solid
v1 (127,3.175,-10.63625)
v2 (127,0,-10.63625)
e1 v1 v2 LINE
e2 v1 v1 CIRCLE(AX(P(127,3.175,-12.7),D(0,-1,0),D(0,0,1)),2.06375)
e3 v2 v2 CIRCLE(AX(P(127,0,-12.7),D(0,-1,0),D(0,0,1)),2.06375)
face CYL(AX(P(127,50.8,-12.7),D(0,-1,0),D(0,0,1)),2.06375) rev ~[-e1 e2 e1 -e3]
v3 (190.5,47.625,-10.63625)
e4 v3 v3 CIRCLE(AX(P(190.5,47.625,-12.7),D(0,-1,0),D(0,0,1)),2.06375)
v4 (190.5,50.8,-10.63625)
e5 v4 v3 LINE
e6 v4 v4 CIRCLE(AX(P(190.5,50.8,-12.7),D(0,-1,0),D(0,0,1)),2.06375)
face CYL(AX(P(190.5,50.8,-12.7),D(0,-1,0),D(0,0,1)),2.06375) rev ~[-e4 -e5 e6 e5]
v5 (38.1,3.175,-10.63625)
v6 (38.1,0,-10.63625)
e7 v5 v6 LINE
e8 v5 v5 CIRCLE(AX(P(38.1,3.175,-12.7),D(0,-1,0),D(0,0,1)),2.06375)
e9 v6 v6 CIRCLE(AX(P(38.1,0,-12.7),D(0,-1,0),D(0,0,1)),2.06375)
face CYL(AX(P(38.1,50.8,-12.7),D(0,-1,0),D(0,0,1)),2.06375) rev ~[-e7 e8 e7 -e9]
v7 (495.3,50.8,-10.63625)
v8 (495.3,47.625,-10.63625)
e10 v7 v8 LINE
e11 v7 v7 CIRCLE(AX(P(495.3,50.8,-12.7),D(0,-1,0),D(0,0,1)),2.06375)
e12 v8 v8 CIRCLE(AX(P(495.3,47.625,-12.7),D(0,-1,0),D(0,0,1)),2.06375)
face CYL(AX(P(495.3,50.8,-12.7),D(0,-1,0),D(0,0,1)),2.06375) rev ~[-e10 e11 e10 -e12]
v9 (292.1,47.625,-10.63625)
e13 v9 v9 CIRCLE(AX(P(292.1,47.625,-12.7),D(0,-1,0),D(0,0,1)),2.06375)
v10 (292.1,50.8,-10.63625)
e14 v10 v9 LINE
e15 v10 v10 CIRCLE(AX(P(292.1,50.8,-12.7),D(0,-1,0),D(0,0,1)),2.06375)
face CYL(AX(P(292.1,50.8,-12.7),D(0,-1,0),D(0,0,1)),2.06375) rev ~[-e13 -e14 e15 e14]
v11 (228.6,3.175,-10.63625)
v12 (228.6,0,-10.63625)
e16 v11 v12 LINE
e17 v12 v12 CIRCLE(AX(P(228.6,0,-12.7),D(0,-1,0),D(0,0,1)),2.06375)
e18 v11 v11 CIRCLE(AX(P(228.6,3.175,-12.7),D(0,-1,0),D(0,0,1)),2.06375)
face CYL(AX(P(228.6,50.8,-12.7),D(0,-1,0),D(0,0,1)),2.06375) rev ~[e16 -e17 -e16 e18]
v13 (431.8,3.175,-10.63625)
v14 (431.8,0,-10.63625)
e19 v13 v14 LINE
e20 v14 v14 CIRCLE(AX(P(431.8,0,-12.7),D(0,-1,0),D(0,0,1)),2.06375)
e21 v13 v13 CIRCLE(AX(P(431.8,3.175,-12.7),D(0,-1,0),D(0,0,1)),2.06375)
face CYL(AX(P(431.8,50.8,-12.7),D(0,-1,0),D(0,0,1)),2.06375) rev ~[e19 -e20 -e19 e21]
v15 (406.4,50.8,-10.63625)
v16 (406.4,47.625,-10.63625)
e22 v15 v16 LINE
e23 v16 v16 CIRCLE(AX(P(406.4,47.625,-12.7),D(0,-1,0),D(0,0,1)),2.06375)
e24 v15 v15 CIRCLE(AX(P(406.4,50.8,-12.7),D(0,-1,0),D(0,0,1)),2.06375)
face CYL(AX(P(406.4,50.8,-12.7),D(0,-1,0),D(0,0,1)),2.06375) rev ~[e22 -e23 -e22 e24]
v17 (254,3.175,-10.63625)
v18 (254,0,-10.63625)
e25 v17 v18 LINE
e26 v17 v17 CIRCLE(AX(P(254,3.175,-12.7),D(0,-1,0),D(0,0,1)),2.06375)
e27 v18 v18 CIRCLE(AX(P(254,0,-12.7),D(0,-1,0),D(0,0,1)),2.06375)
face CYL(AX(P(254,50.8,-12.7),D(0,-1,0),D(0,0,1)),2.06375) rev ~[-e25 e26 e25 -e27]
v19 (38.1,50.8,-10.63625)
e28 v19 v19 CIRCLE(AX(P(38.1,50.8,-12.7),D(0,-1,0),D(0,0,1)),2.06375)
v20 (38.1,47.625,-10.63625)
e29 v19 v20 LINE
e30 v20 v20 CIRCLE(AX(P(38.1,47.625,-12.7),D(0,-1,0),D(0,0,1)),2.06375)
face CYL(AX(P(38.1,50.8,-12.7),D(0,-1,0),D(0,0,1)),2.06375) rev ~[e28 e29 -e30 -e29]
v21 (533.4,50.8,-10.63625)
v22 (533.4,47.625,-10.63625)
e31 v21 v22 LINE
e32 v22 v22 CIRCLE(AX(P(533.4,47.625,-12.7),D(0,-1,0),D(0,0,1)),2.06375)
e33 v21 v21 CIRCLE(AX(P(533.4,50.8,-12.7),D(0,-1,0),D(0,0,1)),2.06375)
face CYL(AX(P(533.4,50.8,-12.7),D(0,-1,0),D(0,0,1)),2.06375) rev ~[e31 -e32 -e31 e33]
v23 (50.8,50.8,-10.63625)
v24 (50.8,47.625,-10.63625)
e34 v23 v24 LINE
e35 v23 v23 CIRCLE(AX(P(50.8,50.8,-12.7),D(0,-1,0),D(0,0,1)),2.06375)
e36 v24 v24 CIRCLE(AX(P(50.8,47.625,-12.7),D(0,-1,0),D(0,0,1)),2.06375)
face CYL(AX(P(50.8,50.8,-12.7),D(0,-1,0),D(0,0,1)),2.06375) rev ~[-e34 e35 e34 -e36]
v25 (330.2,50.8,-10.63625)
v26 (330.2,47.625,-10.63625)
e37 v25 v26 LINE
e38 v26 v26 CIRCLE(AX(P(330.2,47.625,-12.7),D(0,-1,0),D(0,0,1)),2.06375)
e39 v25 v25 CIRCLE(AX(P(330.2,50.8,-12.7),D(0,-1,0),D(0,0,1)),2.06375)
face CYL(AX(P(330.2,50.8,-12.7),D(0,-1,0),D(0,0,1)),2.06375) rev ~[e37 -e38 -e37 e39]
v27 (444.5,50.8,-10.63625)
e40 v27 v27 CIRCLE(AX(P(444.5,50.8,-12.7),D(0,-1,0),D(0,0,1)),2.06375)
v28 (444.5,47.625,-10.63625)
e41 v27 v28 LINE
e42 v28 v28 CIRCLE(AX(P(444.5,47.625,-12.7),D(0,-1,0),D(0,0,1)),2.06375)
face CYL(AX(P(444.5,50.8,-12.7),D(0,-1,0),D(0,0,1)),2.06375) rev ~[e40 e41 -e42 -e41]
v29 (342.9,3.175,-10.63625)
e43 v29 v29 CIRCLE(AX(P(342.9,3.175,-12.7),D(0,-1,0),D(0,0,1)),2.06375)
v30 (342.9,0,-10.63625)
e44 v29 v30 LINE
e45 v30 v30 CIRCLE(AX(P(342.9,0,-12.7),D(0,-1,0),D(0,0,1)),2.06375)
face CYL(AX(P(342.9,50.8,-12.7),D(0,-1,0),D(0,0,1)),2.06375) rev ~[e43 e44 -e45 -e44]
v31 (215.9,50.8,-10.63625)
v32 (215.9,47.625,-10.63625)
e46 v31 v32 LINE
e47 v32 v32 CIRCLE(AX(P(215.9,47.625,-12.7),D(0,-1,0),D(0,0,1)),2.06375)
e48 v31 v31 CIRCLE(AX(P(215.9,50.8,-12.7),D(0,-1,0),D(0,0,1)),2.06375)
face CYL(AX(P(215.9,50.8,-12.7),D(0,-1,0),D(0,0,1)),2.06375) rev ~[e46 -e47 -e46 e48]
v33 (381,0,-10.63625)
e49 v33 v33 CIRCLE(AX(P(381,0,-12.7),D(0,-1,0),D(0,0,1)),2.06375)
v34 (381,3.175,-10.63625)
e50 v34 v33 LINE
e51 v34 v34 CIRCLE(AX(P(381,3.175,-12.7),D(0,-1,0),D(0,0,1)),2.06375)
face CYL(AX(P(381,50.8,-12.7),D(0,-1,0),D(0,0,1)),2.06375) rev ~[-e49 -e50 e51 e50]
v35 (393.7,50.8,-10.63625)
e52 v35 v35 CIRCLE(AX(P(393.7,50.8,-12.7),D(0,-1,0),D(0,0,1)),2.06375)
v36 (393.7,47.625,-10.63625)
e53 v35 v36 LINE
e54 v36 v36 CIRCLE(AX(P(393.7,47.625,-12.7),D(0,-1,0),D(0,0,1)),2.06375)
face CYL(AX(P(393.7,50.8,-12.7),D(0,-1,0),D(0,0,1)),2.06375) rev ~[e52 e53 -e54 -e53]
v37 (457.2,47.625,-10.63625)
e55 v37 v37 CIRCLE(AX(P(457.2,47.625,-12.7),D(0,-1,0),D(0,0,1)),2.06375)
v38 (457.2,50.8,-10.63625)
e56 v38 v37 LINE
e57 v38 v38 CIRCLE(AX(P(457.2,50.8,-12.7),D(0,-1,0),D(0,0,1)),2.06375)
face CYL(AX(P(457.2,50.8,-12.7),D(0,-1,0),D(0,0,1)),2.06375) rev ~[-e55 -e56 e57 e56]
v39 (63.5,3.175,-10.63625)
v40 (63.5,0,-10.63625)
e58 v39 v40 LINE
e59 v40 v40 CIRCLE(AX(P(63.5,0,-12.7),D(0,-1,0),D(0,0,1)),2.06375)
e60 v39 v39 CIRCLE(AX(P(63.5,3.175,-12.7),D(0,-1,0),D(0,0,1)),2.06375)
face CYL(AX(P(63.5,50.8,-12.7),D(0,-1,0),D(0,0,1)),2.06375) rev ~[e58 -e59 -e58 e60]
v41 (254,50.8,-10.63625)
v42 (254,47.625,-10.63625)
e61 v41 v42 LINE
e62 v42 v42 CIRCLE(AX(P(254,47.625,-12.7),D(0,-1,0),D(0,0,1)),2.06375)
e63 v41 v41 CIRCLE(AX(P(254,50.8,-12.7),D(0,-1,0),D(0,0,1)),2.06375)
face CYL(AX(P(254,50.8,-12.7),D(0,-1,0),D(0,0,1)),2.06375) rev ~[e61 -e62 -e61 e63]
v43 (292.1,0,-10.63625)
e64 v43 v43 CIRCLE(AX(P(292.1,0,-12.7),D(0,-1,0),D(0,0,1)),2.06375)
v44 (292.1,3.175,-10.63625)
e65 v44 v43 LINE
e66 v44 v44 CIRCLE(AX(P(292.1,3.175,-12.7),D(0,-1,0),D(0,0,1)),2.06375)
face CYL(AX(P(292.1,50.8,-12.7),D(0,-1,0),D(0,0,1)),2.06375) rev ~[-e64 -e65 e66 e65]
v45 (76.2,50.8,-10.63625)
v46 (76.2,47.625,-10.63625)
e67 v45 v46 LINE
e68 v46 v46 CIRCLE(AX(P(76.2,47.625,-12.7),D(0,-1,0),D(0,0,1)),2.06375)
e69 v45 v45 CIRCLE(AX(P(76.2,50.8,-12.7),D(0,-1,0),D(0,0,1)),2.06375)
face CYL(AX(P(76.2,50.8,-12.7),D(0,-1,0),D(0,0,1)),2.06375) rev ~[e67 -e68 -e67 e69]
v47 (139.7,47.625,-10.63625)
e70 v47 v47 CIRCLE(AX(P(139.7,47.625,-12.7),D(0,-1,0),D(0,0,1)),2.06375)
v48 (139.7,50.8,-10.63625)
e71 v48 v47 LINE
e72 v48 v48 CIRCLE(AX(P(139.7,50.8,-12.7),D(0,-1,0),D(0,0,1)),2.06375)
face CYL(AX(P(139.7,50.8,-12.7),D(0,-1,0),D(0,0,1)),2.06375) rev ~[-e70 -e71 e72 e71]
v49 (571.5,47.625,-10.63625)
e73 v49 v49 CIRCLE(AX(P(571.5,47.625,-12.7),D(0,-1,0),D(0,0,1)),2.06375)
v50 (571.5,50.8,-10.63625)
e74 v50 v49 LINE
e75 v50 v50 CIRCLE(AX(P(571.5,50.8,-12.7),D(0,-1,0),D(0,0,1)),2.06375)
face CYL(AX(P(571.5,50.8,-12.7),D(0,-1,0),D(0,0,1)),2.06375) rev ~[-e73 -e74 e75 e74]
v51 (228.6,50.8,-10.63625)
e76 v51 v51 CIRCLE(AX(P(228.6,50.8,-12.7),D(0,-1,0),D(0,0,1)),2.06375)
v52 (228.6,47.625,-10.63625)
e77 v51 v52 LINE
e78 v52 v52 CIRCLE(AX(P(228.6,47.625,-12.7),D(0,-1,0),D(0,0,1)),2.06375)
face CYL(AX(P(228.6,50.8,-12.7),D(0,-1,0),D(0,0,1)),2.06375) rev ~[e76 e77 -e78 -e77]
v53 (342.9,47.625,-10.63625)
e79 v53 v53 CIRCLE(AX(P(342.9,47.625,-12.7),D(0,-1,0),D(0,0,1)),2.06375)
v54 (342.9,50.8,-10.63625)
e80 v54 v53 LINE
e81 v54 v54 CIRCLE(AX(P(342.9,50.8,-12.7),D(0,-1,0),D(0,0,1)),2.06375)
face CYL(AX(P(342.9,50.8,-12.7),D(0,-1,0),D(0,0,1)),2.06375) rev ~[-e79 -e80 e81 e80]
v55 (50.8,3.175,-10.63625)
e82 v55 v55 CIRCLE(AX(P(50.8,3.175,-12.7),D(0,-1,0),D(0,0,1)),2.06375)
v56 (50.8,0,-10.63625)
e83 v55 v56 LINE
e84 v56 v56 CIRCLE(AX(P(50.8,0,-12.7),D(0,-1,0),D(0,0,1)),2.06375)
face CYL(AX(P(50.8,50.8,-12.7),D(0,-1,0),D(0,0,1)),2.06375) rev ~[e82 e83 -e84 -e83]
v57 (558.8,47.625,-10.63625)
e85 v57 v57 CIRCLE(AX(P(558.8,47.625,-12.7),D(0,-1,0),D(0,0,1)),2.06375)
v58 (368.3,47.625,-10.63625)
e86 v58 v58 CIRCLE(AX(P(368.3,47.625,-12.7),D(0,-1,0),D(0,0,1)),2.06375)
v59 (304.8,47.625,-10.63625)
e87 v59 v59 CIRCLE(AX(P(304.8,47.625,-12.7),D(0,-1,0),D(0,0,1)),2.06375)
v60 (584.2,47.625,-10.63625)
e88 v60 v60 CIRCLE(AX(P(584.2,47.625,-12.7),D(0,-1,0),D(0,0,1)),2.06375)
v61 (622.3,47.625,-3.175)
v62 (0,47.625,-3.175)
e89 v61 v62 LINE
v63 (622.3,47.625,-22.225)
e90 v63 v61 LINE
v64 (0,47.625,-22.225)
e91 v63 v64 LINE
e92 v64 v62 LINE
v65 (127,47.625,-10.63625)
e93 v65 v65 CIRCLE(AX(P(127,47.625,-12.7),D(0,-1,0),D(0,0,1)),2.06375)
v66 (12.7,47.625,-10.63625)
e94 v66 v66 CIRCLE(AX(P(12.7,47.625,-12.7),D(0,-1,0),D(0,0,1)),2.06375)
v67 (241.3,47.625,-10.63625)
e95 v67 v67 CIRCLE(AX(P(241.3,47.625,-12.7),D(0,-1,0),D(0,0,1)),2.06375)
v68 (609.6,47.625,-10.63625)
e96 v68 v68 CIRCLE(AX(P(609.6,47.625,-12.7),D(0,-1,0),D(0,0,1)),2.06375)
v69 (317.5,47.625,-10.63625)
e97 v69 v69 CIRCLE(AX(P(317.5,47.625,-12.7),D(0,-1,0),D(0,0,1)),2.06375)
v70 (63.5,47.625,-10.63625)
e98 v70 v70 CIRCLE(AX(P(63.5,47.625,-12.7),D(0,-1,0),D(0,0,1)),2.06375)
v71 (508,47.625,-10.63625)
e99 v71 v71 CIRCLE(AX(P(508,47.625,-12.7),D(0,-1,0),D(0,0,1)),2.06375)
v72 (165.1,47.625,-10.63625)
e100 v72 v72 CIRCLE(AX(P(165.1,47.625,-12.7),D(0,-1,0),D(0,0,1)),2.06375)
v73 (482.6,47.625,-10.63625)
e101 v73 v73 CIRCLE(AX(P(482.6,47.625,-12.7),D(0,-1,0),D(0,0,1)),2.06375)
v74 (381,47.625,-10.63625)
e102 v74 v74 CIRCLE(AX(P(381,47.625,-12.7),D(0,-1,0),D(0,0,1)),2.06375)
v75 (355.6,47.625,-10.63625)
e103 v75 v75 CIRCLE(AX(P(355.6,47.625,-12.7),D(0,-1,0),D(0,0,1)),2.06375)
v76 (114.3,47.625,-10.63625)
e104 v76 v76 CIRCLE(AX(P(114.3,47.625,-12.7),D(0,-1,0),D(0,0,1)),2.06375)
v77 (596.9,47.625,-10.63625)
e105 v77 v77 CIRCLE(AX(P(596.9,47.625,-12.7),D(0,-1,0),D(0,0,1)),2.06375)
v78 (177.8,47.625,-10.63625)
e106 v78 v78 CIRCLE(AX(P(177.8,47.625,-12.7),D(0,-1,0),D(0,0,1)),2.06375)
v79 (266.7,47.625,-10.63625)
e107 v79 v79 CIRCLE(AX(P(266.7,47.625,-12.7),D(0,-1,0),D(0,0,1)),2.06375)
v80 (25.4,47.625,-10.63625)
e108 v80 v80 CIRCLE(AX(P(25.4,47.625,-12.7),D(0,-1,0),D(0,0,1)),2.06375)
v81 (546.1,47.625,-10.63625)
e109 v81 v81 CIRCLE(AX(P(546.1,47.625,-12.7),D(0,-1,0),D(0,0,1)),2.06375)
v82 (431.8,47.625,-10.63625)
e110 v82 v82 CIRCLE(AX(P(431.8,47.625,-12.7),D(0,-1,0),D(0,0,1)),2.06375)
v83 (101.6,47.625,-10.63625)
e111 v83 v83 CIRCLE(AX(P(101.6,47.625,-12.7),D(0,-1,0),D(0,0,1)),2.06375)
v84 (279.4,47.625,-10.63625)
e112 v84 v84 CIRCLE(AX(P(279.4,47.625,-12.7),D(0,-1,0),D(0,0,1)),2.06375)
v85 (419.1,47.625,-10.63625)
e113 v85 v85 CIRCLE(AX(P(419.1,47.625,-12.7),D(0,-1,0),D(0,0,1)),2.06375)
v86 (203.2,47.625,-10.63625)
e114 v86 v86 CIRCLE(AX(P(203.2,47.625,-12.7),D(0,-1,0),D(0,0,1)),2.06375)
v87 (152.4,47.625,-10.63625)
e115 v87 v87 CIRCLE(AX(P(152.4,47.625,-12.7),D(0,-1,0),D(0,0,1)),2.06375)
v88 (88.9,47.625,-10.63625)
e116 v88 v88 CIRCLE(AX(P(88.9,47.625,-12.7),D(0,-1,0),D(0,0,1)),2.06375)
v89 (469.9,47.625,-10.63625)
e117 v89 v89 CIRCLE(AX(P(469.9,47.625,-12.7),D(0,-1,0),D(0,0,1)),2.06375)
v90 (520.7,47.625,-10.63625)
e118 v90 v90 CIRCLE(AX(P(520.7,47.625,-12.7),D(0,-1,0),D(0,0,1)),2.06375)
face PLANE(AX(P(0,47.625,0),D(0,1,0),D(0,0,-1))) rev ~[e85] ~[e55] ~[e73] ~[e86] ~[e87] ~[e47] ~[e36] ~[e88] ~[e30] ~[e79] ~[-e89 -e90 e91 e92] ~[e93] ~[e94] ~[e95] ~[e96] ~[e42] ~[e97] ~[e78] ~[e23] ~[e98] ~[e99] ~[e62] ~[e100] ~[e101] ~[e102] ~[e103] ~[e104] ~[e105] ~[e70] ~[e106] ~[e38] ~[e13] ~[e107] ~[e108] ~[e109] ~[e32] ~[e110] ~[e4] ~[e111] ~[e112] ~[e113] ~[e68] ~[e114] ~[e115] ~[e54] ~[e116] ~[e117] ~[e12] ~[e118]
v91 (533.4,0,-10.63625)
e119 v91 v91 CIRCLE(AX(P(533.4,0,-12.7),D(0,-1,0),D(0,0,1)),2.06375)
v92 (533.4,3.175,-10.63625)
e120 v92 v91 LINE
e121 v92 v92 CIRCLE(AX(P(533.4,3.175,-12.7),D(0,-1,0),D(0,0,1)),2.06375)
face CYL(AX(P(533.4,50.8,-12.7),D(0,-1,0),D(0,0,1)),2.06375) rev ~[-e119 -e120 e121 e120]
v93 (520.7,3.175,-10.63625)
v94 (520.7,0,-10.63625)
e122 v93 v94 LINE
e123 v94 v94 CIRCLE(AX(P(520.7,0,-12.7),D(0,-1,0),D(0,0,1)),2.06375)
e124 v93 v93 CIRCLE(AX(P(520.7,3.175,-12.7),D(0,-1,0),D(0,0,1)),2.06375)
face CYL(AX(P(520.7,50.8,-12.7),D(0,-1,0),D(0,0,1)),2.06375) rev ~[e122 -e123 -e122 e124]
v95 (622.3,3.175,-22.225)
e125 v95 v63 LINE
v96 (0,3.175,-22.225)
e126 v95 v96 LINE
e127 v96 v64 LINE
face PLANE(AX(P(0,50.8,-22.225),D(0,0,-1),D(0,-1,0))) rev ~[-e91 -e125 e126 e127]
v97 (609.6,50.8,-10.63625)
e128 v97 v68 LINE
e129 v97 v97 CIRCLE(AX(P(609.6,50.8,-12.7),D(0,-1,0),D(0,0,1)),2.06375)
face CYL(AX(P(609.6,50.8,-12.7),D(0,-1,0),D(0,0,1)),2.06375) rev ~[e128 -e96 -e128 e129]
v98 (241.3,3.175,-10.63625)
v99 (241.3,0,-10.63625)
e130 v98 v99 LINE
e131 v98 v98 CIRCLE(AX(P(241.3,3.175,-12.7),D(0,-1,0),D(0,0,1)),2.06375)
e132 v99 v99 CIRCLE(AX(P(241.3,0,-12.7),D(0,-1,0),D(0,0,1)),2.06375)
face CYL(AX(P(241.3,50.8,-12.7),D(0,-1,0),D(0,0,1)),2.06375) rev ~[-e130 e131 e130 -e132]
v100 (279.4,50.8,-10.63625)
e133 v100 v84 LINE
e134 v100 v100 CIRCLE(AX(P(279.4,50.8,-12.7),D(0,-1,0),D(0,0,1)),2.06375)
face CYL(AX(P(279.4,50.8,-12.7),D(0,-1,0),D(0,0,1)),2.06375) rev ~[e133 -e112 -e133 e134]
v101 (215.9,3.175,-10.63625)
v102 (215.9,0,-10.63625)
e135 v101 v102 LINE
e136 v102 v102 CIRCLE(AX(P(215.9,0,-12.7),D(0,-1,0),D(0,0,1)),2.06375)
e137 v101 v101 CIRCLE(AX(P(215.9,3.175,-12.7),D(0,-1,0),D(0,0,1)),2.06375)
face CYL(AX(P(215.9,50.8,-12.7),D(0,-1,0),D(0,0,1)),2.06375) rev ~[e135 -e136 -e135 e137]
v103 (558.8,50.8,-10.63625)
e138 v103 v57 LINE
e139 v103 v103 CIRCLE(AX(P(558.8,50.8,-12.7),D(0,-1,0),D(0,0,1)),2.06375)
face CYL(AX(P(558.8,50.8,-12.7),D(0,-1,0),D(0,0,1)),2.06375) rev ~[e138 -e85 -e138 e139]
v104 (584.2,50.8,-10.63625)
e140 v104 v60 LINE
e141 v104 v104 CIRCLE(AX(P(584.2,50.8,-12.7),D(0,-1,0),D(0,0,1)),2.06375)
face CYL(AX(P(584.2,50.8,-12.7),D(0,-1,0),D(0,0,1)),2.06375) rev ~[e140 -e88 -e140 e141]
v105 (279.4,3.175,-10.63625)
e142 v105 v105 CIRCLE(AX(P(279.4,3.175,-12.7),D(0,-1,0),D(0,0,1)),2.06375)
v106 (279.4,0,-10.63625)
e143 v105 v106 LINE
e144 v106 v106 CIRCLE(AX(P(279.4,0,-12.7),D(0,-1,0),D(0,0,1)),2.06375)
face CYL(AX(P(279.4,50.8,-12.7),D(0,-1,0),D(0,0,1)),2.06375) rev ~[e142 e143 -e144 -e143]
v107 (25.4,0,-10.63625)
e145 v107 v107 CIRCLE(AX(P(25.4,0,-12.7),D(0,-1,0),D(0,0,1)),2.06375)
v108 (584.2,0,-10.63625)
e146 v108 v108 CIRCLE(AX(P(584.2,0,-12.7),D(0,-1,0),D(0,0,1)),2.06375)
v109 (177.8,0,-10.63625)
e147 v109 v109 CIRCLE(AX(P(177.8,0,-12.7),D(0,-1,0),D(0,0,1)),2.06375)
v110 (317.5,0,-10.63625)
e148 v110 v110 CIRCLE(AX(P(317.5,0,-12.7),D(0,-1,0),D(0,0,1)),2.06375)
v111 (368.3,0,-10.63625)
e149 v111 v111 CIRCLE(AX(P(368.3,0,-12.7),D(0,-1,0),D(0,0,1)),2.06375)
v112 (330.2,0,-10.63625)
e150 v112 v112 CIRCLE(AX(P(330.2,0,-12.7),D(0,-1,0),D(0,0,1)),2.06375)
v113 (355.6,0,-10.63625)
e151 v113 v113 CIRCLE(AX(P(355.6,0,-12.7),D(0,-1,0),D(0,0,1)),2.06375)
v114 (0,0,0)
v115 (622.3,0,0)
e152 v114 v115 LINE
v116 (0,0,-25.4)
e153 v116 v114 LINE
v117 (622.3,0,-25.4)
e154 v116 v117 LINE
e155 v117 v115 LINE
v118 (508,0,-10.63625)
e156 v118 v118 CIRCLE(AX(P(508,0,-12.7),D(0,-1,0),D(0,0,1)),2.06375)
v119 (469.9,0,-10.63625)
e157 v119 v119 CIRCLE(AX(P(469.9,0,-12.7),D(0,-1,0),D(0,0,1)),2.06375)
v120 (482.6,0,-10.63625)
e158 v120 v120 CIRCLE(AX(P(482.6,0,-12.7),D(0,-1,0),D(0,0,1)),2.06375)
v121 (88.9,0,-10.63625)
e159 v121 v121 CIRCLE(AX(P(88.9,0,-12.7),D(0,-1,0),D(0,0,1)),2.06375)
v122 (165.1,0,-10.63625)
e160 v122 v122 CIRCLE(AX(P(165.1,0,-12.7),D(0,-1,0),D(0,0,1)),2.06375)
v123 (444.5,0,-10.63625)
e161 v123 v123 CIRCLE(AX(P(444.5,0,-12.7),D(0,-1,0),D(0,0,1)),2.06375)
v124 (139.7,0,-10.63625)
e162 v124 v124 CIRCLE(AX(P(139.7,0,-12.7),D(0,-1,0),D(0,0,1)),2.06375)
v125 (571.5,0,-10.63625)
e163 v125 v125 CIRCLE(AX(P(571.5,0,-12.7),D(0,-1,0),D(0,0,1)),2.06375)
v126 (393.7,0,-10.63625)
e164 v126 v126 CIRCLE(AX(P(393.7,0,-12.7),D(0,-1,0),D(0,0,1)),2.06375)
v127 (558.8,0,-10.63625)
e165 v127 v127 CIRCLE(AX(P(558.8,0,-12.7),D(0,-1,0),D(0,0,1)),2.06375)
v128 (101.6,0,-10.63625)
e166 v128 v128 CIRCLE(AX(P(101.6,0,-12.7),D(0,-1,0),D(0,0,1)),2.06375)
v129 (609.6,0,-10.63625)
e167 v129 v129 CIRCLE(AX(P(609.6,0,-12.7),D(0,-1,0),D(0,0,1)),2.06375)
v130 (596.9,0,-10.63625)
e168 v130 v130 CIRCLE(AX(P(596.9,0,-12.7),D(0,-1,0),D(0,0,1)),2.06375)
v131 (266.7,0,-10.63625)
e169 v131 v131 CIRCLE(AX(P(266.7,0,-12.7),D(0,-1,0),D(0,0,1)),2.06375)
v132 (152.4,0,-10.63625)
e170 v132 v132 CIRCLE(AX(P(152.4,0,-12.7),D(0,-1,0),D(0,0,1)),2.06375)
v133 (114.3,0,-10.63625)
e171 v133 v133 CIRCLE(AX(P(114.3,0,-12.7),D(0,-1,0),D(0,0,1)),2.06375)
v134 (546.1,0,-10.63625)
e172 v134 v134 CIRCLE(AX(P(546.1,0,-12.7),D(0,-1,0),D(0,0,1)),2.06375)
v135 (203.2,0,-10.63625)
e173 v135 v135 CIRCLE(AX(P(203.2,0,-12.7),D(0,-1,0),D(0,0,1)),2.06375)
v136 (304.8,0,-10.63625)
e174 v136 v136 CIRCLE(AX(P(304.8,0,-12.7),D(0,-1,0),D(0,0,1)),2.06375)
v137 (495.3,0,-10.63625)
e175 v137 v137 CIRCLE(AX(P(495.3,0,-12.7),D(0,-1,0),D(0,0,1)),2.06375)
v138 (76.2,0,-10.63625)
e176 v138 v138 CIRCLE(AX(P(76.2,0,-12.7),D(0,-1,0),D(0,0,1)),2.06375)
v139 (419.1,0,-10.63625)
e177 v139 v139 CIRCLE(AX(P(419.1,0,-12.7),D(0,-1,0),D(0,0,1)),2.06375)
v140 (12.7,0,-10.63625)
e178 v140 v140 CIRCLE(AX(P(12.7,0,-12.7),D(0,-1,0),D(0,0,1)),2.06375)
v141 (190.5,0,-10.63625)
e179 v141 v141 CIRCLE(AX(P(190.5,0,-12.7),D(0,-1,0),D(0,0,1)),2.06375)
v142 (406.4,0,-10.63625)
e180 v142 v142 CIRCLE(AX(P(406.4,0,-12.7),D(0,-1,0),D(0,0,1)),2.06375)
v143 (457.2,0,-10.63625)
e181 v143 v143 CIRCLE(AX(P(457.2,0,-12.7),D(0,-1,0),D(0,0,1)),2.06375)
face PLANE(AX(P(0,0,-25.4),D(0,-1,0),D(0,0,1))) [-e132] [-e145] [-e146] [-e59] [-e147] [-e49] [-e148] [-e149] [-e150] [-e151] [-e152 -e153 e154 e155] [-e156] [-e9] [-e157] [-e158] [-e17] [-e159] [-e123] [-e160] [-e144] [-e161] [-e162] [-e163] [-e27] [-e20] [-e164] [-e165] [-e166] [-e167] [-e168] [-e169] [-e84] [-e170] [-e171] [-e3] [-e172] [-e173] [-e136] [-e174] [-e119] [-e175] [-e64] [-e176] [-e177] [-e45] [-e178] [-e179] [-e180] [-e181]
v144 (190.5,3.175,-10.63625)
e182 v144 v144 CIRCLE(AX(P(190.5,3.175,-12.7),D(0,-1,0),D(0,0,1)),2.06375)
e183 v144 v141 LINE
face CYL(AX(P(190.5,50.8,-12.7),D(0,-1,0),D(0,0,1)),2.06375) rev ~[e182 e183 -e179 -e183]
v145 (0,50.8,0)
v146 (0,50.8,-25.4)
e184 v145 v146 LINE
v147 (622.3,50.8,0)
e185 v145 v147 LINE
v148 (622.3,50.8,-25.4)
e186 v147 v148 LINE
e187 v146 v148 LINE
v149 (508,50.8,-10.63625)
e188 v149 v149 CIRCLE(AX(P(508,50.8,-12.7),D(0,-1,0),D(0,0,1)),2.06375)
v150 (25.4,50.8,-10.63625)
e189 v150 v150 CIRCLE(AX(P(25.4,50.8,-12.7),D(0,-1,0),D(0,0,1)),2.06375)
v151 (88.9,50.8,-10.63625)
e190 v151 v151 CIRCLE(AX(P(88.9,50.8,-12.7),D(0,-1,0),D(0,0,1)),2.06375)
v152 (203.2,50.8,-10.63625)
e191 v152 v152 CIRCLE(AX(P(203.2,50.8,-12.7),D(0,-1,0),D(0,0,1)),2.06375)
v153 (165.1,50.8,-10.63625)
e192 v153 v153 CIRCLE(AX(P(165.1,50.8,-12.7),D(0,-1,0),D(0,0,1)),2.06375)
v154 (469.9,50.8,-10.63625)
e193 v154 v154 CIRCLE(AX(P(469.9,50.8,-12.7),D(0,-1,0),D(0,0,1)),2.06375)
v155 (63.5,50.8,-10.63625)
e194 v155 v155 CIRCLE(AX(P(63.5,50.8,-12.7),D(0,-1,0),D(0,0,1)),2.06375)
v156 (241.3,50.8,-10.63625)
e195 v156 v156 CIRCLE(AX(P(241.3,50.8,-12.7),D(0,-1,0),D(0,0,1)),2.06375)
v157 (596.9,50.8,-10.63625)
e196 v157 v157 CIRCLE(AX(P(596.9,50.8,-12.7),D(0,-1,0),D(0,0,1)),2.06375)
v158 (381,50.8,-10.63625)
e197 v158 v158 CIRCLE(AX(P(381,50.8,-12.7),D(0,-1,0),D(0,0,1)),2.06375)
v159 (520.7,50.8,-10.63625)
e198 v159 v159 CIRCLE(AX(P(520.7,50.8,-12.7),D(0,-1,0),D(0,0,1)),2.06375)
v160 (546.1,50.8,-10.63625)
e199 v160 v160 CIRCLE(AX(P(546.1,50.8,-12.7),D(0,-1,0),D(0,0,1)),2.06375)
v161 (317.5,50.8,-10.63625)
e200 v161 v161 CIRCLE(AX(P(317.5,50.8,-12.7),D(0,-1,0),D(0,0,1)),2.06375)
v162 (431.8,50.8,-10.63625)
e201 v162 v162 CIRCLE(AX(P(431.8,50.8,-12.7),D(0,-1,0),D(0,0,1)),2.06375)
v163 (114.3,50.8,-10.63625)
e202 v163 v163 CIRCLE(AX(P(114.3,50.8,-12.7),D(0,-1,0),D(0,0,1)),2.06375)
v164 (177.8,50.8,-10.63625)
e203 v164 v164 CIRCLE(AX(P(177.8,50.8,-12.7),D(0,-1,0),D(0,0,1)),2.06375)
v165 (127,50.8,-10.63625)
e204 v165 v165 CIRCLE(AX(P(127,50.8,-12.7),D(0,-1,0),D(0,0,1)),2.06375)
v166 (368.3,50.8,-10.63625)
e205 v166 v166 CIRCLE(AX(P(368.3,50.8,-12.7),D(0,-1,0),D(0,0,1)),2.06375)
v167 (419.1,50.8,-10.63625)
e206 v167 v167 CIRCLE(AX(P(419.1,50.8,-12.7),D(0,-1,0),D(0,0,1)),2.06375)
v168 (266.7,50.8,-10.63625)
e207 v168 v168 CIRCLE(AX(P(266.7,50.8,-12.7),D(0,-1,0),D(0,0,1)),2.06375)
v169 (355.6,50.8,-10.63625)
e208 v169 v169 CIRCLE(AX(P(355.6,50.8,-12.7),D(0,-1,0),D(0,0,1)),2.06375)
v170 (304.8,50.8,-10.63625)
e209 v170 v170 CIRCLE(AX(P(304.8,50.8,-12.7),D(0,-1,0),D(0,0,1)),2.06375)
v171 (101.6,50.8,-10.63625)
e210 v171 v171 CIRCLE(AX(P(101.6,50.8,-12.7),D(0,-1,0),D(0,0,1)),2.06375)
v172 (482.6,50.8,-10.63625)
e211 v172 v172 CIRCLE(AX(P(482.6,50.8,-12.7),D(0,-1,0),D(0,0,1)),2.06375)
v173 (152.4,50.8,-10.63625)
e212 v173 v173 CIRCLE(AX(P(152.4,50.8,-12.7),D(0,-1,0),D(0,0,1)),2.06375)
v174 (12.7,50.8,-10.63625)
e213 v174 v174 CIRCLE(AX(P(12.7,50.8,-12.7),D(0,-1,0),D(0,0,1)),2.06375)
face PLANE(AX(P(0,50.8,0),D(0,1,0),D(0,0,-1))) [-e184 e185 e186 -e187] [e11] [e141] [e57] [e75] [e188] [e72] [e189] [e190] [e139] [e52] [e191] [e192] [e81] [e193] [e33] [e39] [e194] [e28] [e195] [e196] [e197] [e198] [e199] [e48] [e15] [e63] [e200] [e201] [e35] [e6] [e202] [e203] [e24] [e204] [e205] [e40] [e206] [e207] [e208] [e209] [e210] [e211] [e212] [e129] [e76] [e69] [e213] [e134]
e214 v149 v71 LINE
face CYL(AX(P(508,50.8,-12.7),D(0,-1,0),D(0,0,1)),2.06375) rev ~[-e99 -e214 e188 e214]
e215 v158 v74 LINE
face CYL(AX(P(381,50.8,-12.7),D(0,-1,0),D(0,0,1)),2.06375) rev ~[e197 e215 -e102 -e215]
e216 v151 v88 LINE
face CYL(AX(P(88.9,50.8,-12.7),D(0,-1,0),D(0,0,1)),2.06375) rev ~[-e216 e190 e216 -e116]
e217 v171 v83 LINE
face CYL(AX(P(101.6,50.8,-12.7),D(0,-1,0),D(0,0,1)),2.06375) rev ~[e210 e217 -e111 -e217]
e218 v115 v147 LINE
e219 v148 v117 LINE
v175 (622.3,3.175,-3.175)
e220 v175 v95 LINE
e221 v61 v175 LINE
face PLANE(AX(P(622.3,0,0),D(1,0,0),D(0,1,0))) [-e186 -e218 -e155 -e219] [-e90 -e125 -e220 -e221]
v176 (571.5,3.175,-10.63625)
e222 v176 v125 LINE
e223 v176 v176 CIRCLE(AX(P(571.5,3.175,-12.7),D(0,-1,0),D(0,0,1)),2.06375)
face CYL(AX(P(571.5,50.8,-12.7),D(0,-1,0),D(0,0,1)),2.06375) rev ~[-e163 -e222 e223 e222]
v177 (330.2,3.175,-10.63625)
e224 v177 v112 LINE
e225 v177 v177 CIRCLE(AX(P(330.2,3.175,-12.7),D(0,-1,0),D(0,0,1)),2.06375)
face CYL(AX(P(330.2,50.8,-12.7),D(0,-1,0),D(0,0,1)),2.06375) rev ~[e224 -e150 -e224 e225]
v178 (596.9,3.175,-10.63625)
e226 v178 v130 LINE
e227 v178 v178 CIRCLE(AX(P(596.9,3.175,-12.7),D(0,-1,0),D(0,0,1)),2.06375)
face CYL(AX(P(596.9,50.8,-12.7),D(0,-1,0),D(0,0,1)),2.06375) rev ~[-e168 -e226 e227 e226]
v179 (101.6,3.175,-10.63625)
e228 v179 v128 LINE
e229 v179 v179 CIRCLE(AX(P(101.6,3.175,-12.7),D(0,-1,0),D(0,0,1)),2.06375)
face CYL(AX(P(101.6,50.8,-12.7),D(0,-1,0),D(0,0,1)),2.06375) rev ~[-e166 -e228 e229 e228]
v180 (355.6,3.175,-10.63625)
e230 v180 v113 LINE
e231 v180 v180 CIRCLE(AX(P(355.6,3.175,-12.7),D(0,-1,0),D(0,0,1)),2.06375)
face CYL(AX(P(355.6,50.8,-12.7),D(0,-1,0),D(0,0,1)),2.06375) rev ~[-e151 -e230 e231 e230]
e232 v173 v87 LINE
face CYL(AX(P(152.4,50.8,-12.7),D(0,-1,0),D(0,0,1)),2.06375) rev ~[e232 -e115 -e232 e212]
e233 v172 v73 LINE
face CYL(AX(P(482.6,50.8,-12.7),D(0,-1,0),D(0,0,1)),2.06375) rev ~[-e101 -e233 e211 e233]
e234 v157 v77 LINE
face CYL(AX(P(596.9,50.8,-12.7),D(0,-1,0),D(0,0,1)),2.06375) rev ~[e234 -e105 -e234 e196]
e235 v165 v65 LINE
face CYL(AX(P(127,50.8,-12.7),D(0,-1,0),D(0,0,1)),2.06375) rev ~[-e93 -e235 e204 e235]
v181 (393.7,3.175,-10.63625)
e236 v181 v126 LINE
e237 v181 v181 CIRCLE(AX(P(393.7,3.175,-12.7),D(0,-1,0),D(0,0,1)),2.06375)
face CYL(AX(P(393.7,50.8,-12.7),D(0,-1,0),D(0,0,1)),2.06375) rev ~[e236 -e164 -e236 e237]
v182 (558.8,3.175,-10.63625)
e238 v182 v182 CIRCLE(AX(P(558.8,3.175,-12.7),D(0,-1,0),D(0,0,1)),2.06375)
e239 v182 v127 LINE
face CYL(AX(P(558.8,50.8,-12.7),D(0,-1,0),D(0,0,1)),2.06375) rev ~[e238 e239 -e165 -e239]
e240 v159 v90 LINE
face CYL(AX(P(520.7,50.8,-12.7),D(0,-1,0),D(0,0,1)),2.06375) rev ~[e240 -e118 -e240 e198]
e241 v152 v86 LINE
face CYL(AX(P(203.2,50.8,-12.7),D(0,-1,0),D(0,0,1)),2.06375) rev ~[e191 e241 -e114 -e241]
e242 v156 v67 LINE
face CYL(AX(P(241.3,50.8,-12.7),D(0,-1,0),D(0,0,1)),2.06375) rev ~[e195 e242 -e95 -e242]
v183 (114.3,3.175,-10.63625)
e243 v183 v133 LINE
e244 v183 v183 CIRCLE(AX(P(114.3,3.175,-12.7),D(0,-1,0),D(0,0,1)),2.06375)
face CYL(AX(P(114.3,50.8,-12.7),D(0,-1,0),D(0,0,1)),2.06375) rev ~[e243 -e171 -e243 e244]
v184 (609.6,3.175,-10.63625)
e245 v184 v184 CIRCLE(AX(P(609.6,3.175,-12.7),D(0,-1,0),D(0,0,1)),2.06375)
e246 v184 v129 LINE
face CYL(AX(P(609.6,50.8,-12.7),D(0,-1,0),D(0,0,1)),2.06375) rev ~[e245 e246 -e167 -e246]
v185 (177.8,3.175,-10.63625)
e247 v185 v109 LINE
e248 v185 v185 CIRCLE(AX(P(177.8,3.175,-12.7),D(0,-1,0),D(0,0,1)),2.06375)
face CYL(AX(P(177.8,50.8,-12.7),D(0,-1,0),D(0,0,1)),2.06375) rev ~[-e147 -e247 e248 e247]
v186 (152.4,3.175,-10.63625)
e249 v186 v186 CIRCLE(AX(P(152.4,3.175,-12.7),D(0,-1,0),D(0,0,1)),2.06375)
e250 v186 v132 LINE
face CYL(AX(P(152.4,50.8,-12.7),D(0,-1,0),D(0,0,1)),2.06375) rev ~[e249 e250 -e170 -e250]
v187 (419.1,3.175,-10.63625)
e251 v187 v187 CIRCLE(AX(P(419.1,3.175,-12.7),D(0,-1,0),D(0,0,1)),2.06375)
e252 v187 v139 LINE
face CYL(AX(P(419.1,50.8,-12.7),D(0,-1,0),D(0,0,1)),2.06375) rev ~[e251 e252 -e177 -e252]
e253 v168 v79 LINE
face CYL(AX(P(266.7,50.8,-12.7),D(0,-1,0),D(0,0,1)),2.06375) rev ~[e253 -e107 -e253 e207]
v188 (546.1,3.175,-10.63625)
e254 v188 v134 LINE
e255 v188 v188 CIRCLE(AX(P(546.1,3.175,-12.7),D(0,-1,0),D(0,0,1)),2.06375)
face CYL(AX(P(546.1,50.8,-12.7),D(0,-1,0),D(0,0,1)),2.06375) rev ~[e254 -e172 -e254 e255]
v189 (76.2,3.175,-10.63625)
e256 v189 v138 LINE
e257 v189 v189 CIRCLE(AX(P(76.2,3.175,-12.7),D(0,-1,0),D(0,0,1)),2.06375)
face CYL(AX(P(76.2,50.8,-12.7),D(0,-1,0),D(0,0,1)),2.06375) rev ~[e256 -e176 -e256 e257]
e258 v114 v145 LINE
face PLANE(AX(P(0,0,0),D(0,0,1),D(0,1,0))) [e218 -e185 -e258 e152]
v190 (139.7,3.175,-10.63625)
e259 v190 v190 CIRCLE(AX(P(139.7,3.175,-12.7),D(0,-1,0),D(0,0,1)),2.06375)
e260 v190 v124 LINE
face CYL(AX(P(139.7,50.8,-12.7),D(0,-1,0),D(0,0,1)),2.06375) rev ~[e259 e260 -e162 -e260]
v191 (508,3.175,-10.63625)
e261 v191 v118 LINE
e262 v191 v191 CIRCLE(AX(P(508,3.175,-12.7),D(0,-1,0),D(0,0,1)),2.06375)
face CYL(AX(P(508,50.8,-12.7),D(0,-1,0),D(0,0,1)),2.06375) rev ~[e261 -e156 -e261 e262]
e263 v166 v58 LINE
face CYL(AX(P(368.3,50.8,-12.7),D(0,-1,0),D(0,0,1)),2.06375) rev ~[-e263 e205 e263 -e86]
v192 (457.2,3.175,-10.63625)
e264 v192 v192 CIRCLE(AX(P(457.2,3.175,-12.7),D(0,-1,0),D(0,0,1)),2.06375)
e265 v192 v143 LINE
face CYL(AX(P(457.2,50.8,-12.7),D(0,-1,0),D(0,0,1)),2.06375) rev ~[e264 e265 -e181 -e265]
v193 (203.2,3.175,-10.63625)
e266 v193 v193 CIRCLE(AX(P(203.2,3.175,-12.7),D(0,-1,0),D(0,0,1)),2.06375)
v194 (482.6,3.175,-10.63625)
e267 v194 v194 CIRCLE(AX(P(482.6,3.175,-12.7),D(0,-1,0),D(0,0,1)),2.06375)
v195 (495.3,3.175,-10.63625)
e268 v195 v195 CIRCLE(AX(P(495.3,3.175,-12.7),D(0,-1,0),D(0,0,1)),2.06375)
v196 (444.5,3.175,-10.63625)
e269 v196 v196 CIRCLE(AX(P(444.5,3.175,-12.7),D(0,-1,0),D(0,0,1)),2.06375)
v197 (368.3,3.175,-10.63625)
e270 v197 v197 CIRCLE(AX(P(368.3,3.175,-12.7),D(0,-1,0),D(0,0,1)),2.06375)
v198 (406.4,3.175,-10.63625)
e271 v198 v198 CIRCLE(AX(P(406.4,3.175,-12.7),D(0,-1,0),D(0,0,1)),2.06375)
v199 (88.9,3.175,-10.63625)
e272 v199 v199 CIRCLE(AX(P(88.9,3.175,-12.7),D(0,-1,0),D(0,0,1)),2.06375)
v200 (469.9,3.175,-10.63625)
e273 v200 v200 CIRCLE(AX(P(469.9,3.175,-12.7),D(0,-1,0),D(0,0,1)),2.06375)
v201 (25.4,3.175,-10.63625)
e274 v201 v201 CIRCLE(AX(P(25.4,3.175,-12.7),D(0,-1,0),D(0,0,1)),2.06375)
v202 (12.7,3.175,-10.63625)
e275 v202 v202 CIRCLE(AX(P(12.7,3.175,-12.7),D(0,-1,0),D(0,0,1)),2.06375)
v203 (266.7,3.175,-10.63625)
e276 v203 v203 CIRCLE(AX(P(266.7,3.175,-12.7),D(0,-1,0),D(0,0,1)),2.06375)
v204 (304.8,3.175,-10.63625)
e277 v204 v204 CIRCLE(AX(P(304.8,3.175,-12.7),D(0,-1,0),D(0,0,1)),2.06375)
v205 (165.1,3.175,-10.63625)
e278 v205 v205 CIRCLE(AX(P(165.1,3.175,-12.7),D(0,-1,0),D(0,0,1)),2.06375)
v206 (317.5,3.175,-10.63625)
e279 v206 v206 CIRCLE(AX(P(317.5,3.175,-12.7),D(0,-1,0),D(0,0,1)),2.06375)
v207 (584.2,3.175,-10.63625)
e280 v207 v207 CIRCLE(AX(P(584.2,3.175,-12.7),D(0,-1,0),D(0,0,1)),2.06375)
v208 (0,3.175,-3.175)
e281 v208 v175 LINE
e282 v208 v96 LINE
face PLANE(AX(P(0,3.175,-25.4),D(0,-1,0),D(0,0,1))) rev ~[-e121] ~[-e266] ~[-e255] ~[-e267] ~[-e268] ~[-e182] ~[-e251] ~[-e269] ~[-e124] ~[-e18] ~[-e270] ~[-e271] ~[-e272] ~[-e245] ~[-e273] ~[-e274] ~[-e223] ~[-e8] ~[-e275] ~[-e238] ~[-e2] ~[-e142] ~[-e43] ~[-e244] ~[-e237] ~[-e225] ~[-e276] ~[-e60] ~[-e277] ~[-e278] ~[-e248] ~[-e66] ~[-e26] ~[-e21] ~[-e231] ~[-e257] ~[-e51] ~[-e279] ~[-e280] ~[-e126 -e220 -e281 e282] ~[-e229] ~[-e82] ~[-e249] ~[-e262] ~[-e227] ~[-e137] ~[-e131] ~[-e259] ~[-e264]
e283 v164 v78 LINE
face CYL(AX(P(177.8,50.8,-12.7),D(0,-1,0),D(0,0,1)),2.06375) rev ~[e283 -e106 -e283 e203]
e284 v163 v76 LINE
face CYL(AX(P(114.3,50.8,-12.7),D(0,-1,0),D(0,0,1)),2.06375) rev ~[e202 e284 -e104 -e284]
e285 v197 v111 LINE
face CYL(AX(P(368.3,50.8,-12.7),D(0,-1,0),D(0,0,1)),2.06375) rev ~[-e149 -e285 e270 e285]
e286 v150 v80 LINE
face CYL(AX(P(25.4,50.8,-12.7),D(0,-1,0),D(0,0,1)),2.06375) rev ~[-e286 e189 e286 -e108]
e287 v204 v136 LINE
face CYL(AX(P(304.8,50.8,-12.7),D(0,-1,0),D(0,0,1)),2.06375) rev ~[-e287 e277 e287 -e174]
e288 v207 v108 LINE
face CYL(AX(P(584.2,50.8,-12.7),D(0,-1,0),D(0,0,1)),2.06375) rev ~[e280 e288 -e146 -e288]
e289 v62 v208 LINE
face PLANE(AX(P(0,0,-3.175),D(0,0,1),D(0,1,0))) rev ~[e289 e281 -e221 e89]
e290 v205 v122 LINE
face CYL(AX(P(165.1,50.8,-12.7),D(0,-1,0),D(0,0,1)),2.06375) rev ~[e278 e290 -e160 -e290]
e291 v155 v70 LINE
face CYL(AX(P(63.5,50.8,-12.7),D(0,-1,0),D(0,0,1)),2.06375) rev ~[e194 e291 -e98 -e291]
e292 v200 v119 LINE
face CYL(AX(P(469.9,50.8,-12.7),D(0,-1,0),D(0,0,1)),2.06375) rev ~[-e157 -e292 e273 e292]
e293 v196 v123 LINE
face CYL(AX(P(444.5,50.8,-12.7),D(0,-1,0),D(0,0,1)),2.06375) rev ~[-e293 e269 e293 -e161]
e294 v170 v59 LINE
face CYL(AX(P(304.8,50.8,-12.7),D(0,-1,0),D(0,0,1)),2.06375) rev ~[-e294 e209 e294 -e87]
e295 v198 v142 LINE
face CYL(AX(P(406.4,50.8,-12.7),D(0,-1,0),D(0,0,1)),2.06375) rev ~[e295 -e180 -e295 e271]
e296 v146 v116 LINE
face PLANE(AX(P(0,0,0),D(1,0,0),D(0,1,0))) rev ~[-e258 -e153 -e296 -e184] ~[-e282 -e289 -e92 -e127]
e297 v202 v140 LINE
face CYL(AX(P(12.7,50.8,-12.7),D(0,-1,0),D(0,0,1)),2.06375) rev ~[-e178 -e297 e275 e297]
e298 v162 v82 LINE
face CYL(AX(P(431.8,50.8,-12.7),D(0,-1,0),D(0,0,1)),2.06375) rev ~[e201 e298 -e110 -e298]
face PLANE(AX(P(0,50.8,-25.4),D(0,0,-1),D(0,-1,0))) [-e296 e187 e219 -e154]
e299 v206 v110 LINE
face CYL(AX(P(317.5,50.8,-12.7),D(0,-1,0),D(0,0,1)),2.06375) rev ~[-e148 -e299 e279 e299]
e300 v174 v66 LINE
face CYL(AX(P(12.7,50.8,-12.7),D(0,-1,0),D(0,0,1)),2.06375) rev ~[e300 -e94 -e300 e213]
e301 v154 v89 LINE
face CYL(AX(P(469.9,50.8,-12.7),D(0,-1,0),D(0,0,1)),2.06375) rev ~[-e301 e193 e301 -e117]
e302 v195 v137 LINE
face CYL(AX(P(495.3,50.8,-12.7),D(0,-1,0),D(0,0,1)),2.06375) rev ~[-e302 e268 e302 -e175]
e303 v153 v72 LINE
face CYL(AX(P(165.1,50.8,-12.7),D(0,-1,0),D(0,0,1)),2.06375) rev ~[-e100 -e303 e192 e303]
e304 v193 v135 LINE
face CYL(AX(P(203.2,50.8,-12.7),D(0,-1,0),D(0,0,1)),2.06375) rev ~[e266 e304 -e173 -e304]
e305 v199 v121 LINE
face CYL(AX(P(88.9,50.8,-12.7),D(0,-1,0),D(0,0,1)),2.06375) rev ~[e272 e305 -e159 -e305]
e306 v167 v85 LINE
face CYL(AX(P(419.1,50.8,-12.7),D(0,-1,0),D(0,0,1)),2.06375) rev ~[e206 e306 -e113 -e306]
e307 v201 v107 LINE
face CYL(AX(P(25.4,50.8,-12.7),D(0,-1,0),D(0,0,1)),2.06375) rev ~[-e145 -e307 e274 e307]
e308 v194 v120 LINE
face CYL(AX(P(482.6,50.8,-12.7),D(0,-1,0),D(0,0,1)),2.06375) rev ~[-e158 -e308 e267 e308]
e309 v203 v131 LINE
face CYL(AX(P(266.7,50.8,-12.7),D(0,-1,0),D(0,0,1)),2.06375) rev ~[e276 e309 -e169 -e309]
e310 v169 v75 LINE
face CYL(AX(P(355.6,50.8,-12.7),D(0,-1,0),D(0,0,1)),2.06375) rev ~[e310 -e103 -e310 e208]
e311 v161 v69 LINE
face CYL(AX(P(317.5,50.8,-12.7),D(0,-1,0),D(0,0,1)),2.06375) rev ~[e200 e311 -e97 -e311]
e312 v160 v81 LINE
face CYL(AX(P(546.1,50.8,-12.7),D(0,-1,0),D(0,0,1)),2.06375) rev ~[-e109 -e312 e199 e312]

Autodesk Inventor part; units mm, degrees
ref_plane "YZ Plane" through (0, 0, 0) normal (1, 0, 0) x (0, 1, 0)
ref_plane "XZ Plane" through (0, 0, 0) normal (0, 1, 0) x (-1, 0, 0)
ref_plane "XY Plane" through (0, 0, 0) normal (0, 0, 1) x (1, 0, 0)
sketch "Sketch1" plane through (0, 0, 0) normal (1, 0, 0) x (0, 1, 0)
  line L0 (0, 0) -> (50.8, 0)
  line L1 (50.8, 0) -> (50.8, -25.4)
  line L2 (50.8, -25.4) -> (0, -25.4)
  line L3 (0, -25.4) -> (0, 0)
  dimension "d0" = 50.8
  dimension "d1" = 25.4
extrude "Extrusion1" add sketch "Sketch1" along normal blind 622.3
shell "Shell1" thickness 3.175 removed faces 2 at (0, 16.9333, -16.9333) at (622.3, 16.9333, -16.9333)
sketch "Sketch2" plane through (0, 50.8, 0) normal (0, 1, 0) x (1, 0, 0)
  line L0 (0, 22.225) -> (0, 3.175) projected
  line L1 (0, 12.7) -> (622.3, 12.7) construction
  line L2 (622.3, 3.175) -> (622.3, 22.225) projected
  circle A0 centre (12.7, 12.7) radius 2.0637
  line L3 (0, 25.4) -> (0, 0) projected
  dimension "d5" = 4.1275
  dimension "d6" = 12.7
hole "Hole1" at (12.7, 50.8, -12.7) direction (0, -1, 0) diameter 4.1275 end through all
pattern_linear "Rectangular Pattern1" count 48 spacing 12.7 along (1, 0, 0) of "Hole1"
properties part number "fram_support_24.5in"
